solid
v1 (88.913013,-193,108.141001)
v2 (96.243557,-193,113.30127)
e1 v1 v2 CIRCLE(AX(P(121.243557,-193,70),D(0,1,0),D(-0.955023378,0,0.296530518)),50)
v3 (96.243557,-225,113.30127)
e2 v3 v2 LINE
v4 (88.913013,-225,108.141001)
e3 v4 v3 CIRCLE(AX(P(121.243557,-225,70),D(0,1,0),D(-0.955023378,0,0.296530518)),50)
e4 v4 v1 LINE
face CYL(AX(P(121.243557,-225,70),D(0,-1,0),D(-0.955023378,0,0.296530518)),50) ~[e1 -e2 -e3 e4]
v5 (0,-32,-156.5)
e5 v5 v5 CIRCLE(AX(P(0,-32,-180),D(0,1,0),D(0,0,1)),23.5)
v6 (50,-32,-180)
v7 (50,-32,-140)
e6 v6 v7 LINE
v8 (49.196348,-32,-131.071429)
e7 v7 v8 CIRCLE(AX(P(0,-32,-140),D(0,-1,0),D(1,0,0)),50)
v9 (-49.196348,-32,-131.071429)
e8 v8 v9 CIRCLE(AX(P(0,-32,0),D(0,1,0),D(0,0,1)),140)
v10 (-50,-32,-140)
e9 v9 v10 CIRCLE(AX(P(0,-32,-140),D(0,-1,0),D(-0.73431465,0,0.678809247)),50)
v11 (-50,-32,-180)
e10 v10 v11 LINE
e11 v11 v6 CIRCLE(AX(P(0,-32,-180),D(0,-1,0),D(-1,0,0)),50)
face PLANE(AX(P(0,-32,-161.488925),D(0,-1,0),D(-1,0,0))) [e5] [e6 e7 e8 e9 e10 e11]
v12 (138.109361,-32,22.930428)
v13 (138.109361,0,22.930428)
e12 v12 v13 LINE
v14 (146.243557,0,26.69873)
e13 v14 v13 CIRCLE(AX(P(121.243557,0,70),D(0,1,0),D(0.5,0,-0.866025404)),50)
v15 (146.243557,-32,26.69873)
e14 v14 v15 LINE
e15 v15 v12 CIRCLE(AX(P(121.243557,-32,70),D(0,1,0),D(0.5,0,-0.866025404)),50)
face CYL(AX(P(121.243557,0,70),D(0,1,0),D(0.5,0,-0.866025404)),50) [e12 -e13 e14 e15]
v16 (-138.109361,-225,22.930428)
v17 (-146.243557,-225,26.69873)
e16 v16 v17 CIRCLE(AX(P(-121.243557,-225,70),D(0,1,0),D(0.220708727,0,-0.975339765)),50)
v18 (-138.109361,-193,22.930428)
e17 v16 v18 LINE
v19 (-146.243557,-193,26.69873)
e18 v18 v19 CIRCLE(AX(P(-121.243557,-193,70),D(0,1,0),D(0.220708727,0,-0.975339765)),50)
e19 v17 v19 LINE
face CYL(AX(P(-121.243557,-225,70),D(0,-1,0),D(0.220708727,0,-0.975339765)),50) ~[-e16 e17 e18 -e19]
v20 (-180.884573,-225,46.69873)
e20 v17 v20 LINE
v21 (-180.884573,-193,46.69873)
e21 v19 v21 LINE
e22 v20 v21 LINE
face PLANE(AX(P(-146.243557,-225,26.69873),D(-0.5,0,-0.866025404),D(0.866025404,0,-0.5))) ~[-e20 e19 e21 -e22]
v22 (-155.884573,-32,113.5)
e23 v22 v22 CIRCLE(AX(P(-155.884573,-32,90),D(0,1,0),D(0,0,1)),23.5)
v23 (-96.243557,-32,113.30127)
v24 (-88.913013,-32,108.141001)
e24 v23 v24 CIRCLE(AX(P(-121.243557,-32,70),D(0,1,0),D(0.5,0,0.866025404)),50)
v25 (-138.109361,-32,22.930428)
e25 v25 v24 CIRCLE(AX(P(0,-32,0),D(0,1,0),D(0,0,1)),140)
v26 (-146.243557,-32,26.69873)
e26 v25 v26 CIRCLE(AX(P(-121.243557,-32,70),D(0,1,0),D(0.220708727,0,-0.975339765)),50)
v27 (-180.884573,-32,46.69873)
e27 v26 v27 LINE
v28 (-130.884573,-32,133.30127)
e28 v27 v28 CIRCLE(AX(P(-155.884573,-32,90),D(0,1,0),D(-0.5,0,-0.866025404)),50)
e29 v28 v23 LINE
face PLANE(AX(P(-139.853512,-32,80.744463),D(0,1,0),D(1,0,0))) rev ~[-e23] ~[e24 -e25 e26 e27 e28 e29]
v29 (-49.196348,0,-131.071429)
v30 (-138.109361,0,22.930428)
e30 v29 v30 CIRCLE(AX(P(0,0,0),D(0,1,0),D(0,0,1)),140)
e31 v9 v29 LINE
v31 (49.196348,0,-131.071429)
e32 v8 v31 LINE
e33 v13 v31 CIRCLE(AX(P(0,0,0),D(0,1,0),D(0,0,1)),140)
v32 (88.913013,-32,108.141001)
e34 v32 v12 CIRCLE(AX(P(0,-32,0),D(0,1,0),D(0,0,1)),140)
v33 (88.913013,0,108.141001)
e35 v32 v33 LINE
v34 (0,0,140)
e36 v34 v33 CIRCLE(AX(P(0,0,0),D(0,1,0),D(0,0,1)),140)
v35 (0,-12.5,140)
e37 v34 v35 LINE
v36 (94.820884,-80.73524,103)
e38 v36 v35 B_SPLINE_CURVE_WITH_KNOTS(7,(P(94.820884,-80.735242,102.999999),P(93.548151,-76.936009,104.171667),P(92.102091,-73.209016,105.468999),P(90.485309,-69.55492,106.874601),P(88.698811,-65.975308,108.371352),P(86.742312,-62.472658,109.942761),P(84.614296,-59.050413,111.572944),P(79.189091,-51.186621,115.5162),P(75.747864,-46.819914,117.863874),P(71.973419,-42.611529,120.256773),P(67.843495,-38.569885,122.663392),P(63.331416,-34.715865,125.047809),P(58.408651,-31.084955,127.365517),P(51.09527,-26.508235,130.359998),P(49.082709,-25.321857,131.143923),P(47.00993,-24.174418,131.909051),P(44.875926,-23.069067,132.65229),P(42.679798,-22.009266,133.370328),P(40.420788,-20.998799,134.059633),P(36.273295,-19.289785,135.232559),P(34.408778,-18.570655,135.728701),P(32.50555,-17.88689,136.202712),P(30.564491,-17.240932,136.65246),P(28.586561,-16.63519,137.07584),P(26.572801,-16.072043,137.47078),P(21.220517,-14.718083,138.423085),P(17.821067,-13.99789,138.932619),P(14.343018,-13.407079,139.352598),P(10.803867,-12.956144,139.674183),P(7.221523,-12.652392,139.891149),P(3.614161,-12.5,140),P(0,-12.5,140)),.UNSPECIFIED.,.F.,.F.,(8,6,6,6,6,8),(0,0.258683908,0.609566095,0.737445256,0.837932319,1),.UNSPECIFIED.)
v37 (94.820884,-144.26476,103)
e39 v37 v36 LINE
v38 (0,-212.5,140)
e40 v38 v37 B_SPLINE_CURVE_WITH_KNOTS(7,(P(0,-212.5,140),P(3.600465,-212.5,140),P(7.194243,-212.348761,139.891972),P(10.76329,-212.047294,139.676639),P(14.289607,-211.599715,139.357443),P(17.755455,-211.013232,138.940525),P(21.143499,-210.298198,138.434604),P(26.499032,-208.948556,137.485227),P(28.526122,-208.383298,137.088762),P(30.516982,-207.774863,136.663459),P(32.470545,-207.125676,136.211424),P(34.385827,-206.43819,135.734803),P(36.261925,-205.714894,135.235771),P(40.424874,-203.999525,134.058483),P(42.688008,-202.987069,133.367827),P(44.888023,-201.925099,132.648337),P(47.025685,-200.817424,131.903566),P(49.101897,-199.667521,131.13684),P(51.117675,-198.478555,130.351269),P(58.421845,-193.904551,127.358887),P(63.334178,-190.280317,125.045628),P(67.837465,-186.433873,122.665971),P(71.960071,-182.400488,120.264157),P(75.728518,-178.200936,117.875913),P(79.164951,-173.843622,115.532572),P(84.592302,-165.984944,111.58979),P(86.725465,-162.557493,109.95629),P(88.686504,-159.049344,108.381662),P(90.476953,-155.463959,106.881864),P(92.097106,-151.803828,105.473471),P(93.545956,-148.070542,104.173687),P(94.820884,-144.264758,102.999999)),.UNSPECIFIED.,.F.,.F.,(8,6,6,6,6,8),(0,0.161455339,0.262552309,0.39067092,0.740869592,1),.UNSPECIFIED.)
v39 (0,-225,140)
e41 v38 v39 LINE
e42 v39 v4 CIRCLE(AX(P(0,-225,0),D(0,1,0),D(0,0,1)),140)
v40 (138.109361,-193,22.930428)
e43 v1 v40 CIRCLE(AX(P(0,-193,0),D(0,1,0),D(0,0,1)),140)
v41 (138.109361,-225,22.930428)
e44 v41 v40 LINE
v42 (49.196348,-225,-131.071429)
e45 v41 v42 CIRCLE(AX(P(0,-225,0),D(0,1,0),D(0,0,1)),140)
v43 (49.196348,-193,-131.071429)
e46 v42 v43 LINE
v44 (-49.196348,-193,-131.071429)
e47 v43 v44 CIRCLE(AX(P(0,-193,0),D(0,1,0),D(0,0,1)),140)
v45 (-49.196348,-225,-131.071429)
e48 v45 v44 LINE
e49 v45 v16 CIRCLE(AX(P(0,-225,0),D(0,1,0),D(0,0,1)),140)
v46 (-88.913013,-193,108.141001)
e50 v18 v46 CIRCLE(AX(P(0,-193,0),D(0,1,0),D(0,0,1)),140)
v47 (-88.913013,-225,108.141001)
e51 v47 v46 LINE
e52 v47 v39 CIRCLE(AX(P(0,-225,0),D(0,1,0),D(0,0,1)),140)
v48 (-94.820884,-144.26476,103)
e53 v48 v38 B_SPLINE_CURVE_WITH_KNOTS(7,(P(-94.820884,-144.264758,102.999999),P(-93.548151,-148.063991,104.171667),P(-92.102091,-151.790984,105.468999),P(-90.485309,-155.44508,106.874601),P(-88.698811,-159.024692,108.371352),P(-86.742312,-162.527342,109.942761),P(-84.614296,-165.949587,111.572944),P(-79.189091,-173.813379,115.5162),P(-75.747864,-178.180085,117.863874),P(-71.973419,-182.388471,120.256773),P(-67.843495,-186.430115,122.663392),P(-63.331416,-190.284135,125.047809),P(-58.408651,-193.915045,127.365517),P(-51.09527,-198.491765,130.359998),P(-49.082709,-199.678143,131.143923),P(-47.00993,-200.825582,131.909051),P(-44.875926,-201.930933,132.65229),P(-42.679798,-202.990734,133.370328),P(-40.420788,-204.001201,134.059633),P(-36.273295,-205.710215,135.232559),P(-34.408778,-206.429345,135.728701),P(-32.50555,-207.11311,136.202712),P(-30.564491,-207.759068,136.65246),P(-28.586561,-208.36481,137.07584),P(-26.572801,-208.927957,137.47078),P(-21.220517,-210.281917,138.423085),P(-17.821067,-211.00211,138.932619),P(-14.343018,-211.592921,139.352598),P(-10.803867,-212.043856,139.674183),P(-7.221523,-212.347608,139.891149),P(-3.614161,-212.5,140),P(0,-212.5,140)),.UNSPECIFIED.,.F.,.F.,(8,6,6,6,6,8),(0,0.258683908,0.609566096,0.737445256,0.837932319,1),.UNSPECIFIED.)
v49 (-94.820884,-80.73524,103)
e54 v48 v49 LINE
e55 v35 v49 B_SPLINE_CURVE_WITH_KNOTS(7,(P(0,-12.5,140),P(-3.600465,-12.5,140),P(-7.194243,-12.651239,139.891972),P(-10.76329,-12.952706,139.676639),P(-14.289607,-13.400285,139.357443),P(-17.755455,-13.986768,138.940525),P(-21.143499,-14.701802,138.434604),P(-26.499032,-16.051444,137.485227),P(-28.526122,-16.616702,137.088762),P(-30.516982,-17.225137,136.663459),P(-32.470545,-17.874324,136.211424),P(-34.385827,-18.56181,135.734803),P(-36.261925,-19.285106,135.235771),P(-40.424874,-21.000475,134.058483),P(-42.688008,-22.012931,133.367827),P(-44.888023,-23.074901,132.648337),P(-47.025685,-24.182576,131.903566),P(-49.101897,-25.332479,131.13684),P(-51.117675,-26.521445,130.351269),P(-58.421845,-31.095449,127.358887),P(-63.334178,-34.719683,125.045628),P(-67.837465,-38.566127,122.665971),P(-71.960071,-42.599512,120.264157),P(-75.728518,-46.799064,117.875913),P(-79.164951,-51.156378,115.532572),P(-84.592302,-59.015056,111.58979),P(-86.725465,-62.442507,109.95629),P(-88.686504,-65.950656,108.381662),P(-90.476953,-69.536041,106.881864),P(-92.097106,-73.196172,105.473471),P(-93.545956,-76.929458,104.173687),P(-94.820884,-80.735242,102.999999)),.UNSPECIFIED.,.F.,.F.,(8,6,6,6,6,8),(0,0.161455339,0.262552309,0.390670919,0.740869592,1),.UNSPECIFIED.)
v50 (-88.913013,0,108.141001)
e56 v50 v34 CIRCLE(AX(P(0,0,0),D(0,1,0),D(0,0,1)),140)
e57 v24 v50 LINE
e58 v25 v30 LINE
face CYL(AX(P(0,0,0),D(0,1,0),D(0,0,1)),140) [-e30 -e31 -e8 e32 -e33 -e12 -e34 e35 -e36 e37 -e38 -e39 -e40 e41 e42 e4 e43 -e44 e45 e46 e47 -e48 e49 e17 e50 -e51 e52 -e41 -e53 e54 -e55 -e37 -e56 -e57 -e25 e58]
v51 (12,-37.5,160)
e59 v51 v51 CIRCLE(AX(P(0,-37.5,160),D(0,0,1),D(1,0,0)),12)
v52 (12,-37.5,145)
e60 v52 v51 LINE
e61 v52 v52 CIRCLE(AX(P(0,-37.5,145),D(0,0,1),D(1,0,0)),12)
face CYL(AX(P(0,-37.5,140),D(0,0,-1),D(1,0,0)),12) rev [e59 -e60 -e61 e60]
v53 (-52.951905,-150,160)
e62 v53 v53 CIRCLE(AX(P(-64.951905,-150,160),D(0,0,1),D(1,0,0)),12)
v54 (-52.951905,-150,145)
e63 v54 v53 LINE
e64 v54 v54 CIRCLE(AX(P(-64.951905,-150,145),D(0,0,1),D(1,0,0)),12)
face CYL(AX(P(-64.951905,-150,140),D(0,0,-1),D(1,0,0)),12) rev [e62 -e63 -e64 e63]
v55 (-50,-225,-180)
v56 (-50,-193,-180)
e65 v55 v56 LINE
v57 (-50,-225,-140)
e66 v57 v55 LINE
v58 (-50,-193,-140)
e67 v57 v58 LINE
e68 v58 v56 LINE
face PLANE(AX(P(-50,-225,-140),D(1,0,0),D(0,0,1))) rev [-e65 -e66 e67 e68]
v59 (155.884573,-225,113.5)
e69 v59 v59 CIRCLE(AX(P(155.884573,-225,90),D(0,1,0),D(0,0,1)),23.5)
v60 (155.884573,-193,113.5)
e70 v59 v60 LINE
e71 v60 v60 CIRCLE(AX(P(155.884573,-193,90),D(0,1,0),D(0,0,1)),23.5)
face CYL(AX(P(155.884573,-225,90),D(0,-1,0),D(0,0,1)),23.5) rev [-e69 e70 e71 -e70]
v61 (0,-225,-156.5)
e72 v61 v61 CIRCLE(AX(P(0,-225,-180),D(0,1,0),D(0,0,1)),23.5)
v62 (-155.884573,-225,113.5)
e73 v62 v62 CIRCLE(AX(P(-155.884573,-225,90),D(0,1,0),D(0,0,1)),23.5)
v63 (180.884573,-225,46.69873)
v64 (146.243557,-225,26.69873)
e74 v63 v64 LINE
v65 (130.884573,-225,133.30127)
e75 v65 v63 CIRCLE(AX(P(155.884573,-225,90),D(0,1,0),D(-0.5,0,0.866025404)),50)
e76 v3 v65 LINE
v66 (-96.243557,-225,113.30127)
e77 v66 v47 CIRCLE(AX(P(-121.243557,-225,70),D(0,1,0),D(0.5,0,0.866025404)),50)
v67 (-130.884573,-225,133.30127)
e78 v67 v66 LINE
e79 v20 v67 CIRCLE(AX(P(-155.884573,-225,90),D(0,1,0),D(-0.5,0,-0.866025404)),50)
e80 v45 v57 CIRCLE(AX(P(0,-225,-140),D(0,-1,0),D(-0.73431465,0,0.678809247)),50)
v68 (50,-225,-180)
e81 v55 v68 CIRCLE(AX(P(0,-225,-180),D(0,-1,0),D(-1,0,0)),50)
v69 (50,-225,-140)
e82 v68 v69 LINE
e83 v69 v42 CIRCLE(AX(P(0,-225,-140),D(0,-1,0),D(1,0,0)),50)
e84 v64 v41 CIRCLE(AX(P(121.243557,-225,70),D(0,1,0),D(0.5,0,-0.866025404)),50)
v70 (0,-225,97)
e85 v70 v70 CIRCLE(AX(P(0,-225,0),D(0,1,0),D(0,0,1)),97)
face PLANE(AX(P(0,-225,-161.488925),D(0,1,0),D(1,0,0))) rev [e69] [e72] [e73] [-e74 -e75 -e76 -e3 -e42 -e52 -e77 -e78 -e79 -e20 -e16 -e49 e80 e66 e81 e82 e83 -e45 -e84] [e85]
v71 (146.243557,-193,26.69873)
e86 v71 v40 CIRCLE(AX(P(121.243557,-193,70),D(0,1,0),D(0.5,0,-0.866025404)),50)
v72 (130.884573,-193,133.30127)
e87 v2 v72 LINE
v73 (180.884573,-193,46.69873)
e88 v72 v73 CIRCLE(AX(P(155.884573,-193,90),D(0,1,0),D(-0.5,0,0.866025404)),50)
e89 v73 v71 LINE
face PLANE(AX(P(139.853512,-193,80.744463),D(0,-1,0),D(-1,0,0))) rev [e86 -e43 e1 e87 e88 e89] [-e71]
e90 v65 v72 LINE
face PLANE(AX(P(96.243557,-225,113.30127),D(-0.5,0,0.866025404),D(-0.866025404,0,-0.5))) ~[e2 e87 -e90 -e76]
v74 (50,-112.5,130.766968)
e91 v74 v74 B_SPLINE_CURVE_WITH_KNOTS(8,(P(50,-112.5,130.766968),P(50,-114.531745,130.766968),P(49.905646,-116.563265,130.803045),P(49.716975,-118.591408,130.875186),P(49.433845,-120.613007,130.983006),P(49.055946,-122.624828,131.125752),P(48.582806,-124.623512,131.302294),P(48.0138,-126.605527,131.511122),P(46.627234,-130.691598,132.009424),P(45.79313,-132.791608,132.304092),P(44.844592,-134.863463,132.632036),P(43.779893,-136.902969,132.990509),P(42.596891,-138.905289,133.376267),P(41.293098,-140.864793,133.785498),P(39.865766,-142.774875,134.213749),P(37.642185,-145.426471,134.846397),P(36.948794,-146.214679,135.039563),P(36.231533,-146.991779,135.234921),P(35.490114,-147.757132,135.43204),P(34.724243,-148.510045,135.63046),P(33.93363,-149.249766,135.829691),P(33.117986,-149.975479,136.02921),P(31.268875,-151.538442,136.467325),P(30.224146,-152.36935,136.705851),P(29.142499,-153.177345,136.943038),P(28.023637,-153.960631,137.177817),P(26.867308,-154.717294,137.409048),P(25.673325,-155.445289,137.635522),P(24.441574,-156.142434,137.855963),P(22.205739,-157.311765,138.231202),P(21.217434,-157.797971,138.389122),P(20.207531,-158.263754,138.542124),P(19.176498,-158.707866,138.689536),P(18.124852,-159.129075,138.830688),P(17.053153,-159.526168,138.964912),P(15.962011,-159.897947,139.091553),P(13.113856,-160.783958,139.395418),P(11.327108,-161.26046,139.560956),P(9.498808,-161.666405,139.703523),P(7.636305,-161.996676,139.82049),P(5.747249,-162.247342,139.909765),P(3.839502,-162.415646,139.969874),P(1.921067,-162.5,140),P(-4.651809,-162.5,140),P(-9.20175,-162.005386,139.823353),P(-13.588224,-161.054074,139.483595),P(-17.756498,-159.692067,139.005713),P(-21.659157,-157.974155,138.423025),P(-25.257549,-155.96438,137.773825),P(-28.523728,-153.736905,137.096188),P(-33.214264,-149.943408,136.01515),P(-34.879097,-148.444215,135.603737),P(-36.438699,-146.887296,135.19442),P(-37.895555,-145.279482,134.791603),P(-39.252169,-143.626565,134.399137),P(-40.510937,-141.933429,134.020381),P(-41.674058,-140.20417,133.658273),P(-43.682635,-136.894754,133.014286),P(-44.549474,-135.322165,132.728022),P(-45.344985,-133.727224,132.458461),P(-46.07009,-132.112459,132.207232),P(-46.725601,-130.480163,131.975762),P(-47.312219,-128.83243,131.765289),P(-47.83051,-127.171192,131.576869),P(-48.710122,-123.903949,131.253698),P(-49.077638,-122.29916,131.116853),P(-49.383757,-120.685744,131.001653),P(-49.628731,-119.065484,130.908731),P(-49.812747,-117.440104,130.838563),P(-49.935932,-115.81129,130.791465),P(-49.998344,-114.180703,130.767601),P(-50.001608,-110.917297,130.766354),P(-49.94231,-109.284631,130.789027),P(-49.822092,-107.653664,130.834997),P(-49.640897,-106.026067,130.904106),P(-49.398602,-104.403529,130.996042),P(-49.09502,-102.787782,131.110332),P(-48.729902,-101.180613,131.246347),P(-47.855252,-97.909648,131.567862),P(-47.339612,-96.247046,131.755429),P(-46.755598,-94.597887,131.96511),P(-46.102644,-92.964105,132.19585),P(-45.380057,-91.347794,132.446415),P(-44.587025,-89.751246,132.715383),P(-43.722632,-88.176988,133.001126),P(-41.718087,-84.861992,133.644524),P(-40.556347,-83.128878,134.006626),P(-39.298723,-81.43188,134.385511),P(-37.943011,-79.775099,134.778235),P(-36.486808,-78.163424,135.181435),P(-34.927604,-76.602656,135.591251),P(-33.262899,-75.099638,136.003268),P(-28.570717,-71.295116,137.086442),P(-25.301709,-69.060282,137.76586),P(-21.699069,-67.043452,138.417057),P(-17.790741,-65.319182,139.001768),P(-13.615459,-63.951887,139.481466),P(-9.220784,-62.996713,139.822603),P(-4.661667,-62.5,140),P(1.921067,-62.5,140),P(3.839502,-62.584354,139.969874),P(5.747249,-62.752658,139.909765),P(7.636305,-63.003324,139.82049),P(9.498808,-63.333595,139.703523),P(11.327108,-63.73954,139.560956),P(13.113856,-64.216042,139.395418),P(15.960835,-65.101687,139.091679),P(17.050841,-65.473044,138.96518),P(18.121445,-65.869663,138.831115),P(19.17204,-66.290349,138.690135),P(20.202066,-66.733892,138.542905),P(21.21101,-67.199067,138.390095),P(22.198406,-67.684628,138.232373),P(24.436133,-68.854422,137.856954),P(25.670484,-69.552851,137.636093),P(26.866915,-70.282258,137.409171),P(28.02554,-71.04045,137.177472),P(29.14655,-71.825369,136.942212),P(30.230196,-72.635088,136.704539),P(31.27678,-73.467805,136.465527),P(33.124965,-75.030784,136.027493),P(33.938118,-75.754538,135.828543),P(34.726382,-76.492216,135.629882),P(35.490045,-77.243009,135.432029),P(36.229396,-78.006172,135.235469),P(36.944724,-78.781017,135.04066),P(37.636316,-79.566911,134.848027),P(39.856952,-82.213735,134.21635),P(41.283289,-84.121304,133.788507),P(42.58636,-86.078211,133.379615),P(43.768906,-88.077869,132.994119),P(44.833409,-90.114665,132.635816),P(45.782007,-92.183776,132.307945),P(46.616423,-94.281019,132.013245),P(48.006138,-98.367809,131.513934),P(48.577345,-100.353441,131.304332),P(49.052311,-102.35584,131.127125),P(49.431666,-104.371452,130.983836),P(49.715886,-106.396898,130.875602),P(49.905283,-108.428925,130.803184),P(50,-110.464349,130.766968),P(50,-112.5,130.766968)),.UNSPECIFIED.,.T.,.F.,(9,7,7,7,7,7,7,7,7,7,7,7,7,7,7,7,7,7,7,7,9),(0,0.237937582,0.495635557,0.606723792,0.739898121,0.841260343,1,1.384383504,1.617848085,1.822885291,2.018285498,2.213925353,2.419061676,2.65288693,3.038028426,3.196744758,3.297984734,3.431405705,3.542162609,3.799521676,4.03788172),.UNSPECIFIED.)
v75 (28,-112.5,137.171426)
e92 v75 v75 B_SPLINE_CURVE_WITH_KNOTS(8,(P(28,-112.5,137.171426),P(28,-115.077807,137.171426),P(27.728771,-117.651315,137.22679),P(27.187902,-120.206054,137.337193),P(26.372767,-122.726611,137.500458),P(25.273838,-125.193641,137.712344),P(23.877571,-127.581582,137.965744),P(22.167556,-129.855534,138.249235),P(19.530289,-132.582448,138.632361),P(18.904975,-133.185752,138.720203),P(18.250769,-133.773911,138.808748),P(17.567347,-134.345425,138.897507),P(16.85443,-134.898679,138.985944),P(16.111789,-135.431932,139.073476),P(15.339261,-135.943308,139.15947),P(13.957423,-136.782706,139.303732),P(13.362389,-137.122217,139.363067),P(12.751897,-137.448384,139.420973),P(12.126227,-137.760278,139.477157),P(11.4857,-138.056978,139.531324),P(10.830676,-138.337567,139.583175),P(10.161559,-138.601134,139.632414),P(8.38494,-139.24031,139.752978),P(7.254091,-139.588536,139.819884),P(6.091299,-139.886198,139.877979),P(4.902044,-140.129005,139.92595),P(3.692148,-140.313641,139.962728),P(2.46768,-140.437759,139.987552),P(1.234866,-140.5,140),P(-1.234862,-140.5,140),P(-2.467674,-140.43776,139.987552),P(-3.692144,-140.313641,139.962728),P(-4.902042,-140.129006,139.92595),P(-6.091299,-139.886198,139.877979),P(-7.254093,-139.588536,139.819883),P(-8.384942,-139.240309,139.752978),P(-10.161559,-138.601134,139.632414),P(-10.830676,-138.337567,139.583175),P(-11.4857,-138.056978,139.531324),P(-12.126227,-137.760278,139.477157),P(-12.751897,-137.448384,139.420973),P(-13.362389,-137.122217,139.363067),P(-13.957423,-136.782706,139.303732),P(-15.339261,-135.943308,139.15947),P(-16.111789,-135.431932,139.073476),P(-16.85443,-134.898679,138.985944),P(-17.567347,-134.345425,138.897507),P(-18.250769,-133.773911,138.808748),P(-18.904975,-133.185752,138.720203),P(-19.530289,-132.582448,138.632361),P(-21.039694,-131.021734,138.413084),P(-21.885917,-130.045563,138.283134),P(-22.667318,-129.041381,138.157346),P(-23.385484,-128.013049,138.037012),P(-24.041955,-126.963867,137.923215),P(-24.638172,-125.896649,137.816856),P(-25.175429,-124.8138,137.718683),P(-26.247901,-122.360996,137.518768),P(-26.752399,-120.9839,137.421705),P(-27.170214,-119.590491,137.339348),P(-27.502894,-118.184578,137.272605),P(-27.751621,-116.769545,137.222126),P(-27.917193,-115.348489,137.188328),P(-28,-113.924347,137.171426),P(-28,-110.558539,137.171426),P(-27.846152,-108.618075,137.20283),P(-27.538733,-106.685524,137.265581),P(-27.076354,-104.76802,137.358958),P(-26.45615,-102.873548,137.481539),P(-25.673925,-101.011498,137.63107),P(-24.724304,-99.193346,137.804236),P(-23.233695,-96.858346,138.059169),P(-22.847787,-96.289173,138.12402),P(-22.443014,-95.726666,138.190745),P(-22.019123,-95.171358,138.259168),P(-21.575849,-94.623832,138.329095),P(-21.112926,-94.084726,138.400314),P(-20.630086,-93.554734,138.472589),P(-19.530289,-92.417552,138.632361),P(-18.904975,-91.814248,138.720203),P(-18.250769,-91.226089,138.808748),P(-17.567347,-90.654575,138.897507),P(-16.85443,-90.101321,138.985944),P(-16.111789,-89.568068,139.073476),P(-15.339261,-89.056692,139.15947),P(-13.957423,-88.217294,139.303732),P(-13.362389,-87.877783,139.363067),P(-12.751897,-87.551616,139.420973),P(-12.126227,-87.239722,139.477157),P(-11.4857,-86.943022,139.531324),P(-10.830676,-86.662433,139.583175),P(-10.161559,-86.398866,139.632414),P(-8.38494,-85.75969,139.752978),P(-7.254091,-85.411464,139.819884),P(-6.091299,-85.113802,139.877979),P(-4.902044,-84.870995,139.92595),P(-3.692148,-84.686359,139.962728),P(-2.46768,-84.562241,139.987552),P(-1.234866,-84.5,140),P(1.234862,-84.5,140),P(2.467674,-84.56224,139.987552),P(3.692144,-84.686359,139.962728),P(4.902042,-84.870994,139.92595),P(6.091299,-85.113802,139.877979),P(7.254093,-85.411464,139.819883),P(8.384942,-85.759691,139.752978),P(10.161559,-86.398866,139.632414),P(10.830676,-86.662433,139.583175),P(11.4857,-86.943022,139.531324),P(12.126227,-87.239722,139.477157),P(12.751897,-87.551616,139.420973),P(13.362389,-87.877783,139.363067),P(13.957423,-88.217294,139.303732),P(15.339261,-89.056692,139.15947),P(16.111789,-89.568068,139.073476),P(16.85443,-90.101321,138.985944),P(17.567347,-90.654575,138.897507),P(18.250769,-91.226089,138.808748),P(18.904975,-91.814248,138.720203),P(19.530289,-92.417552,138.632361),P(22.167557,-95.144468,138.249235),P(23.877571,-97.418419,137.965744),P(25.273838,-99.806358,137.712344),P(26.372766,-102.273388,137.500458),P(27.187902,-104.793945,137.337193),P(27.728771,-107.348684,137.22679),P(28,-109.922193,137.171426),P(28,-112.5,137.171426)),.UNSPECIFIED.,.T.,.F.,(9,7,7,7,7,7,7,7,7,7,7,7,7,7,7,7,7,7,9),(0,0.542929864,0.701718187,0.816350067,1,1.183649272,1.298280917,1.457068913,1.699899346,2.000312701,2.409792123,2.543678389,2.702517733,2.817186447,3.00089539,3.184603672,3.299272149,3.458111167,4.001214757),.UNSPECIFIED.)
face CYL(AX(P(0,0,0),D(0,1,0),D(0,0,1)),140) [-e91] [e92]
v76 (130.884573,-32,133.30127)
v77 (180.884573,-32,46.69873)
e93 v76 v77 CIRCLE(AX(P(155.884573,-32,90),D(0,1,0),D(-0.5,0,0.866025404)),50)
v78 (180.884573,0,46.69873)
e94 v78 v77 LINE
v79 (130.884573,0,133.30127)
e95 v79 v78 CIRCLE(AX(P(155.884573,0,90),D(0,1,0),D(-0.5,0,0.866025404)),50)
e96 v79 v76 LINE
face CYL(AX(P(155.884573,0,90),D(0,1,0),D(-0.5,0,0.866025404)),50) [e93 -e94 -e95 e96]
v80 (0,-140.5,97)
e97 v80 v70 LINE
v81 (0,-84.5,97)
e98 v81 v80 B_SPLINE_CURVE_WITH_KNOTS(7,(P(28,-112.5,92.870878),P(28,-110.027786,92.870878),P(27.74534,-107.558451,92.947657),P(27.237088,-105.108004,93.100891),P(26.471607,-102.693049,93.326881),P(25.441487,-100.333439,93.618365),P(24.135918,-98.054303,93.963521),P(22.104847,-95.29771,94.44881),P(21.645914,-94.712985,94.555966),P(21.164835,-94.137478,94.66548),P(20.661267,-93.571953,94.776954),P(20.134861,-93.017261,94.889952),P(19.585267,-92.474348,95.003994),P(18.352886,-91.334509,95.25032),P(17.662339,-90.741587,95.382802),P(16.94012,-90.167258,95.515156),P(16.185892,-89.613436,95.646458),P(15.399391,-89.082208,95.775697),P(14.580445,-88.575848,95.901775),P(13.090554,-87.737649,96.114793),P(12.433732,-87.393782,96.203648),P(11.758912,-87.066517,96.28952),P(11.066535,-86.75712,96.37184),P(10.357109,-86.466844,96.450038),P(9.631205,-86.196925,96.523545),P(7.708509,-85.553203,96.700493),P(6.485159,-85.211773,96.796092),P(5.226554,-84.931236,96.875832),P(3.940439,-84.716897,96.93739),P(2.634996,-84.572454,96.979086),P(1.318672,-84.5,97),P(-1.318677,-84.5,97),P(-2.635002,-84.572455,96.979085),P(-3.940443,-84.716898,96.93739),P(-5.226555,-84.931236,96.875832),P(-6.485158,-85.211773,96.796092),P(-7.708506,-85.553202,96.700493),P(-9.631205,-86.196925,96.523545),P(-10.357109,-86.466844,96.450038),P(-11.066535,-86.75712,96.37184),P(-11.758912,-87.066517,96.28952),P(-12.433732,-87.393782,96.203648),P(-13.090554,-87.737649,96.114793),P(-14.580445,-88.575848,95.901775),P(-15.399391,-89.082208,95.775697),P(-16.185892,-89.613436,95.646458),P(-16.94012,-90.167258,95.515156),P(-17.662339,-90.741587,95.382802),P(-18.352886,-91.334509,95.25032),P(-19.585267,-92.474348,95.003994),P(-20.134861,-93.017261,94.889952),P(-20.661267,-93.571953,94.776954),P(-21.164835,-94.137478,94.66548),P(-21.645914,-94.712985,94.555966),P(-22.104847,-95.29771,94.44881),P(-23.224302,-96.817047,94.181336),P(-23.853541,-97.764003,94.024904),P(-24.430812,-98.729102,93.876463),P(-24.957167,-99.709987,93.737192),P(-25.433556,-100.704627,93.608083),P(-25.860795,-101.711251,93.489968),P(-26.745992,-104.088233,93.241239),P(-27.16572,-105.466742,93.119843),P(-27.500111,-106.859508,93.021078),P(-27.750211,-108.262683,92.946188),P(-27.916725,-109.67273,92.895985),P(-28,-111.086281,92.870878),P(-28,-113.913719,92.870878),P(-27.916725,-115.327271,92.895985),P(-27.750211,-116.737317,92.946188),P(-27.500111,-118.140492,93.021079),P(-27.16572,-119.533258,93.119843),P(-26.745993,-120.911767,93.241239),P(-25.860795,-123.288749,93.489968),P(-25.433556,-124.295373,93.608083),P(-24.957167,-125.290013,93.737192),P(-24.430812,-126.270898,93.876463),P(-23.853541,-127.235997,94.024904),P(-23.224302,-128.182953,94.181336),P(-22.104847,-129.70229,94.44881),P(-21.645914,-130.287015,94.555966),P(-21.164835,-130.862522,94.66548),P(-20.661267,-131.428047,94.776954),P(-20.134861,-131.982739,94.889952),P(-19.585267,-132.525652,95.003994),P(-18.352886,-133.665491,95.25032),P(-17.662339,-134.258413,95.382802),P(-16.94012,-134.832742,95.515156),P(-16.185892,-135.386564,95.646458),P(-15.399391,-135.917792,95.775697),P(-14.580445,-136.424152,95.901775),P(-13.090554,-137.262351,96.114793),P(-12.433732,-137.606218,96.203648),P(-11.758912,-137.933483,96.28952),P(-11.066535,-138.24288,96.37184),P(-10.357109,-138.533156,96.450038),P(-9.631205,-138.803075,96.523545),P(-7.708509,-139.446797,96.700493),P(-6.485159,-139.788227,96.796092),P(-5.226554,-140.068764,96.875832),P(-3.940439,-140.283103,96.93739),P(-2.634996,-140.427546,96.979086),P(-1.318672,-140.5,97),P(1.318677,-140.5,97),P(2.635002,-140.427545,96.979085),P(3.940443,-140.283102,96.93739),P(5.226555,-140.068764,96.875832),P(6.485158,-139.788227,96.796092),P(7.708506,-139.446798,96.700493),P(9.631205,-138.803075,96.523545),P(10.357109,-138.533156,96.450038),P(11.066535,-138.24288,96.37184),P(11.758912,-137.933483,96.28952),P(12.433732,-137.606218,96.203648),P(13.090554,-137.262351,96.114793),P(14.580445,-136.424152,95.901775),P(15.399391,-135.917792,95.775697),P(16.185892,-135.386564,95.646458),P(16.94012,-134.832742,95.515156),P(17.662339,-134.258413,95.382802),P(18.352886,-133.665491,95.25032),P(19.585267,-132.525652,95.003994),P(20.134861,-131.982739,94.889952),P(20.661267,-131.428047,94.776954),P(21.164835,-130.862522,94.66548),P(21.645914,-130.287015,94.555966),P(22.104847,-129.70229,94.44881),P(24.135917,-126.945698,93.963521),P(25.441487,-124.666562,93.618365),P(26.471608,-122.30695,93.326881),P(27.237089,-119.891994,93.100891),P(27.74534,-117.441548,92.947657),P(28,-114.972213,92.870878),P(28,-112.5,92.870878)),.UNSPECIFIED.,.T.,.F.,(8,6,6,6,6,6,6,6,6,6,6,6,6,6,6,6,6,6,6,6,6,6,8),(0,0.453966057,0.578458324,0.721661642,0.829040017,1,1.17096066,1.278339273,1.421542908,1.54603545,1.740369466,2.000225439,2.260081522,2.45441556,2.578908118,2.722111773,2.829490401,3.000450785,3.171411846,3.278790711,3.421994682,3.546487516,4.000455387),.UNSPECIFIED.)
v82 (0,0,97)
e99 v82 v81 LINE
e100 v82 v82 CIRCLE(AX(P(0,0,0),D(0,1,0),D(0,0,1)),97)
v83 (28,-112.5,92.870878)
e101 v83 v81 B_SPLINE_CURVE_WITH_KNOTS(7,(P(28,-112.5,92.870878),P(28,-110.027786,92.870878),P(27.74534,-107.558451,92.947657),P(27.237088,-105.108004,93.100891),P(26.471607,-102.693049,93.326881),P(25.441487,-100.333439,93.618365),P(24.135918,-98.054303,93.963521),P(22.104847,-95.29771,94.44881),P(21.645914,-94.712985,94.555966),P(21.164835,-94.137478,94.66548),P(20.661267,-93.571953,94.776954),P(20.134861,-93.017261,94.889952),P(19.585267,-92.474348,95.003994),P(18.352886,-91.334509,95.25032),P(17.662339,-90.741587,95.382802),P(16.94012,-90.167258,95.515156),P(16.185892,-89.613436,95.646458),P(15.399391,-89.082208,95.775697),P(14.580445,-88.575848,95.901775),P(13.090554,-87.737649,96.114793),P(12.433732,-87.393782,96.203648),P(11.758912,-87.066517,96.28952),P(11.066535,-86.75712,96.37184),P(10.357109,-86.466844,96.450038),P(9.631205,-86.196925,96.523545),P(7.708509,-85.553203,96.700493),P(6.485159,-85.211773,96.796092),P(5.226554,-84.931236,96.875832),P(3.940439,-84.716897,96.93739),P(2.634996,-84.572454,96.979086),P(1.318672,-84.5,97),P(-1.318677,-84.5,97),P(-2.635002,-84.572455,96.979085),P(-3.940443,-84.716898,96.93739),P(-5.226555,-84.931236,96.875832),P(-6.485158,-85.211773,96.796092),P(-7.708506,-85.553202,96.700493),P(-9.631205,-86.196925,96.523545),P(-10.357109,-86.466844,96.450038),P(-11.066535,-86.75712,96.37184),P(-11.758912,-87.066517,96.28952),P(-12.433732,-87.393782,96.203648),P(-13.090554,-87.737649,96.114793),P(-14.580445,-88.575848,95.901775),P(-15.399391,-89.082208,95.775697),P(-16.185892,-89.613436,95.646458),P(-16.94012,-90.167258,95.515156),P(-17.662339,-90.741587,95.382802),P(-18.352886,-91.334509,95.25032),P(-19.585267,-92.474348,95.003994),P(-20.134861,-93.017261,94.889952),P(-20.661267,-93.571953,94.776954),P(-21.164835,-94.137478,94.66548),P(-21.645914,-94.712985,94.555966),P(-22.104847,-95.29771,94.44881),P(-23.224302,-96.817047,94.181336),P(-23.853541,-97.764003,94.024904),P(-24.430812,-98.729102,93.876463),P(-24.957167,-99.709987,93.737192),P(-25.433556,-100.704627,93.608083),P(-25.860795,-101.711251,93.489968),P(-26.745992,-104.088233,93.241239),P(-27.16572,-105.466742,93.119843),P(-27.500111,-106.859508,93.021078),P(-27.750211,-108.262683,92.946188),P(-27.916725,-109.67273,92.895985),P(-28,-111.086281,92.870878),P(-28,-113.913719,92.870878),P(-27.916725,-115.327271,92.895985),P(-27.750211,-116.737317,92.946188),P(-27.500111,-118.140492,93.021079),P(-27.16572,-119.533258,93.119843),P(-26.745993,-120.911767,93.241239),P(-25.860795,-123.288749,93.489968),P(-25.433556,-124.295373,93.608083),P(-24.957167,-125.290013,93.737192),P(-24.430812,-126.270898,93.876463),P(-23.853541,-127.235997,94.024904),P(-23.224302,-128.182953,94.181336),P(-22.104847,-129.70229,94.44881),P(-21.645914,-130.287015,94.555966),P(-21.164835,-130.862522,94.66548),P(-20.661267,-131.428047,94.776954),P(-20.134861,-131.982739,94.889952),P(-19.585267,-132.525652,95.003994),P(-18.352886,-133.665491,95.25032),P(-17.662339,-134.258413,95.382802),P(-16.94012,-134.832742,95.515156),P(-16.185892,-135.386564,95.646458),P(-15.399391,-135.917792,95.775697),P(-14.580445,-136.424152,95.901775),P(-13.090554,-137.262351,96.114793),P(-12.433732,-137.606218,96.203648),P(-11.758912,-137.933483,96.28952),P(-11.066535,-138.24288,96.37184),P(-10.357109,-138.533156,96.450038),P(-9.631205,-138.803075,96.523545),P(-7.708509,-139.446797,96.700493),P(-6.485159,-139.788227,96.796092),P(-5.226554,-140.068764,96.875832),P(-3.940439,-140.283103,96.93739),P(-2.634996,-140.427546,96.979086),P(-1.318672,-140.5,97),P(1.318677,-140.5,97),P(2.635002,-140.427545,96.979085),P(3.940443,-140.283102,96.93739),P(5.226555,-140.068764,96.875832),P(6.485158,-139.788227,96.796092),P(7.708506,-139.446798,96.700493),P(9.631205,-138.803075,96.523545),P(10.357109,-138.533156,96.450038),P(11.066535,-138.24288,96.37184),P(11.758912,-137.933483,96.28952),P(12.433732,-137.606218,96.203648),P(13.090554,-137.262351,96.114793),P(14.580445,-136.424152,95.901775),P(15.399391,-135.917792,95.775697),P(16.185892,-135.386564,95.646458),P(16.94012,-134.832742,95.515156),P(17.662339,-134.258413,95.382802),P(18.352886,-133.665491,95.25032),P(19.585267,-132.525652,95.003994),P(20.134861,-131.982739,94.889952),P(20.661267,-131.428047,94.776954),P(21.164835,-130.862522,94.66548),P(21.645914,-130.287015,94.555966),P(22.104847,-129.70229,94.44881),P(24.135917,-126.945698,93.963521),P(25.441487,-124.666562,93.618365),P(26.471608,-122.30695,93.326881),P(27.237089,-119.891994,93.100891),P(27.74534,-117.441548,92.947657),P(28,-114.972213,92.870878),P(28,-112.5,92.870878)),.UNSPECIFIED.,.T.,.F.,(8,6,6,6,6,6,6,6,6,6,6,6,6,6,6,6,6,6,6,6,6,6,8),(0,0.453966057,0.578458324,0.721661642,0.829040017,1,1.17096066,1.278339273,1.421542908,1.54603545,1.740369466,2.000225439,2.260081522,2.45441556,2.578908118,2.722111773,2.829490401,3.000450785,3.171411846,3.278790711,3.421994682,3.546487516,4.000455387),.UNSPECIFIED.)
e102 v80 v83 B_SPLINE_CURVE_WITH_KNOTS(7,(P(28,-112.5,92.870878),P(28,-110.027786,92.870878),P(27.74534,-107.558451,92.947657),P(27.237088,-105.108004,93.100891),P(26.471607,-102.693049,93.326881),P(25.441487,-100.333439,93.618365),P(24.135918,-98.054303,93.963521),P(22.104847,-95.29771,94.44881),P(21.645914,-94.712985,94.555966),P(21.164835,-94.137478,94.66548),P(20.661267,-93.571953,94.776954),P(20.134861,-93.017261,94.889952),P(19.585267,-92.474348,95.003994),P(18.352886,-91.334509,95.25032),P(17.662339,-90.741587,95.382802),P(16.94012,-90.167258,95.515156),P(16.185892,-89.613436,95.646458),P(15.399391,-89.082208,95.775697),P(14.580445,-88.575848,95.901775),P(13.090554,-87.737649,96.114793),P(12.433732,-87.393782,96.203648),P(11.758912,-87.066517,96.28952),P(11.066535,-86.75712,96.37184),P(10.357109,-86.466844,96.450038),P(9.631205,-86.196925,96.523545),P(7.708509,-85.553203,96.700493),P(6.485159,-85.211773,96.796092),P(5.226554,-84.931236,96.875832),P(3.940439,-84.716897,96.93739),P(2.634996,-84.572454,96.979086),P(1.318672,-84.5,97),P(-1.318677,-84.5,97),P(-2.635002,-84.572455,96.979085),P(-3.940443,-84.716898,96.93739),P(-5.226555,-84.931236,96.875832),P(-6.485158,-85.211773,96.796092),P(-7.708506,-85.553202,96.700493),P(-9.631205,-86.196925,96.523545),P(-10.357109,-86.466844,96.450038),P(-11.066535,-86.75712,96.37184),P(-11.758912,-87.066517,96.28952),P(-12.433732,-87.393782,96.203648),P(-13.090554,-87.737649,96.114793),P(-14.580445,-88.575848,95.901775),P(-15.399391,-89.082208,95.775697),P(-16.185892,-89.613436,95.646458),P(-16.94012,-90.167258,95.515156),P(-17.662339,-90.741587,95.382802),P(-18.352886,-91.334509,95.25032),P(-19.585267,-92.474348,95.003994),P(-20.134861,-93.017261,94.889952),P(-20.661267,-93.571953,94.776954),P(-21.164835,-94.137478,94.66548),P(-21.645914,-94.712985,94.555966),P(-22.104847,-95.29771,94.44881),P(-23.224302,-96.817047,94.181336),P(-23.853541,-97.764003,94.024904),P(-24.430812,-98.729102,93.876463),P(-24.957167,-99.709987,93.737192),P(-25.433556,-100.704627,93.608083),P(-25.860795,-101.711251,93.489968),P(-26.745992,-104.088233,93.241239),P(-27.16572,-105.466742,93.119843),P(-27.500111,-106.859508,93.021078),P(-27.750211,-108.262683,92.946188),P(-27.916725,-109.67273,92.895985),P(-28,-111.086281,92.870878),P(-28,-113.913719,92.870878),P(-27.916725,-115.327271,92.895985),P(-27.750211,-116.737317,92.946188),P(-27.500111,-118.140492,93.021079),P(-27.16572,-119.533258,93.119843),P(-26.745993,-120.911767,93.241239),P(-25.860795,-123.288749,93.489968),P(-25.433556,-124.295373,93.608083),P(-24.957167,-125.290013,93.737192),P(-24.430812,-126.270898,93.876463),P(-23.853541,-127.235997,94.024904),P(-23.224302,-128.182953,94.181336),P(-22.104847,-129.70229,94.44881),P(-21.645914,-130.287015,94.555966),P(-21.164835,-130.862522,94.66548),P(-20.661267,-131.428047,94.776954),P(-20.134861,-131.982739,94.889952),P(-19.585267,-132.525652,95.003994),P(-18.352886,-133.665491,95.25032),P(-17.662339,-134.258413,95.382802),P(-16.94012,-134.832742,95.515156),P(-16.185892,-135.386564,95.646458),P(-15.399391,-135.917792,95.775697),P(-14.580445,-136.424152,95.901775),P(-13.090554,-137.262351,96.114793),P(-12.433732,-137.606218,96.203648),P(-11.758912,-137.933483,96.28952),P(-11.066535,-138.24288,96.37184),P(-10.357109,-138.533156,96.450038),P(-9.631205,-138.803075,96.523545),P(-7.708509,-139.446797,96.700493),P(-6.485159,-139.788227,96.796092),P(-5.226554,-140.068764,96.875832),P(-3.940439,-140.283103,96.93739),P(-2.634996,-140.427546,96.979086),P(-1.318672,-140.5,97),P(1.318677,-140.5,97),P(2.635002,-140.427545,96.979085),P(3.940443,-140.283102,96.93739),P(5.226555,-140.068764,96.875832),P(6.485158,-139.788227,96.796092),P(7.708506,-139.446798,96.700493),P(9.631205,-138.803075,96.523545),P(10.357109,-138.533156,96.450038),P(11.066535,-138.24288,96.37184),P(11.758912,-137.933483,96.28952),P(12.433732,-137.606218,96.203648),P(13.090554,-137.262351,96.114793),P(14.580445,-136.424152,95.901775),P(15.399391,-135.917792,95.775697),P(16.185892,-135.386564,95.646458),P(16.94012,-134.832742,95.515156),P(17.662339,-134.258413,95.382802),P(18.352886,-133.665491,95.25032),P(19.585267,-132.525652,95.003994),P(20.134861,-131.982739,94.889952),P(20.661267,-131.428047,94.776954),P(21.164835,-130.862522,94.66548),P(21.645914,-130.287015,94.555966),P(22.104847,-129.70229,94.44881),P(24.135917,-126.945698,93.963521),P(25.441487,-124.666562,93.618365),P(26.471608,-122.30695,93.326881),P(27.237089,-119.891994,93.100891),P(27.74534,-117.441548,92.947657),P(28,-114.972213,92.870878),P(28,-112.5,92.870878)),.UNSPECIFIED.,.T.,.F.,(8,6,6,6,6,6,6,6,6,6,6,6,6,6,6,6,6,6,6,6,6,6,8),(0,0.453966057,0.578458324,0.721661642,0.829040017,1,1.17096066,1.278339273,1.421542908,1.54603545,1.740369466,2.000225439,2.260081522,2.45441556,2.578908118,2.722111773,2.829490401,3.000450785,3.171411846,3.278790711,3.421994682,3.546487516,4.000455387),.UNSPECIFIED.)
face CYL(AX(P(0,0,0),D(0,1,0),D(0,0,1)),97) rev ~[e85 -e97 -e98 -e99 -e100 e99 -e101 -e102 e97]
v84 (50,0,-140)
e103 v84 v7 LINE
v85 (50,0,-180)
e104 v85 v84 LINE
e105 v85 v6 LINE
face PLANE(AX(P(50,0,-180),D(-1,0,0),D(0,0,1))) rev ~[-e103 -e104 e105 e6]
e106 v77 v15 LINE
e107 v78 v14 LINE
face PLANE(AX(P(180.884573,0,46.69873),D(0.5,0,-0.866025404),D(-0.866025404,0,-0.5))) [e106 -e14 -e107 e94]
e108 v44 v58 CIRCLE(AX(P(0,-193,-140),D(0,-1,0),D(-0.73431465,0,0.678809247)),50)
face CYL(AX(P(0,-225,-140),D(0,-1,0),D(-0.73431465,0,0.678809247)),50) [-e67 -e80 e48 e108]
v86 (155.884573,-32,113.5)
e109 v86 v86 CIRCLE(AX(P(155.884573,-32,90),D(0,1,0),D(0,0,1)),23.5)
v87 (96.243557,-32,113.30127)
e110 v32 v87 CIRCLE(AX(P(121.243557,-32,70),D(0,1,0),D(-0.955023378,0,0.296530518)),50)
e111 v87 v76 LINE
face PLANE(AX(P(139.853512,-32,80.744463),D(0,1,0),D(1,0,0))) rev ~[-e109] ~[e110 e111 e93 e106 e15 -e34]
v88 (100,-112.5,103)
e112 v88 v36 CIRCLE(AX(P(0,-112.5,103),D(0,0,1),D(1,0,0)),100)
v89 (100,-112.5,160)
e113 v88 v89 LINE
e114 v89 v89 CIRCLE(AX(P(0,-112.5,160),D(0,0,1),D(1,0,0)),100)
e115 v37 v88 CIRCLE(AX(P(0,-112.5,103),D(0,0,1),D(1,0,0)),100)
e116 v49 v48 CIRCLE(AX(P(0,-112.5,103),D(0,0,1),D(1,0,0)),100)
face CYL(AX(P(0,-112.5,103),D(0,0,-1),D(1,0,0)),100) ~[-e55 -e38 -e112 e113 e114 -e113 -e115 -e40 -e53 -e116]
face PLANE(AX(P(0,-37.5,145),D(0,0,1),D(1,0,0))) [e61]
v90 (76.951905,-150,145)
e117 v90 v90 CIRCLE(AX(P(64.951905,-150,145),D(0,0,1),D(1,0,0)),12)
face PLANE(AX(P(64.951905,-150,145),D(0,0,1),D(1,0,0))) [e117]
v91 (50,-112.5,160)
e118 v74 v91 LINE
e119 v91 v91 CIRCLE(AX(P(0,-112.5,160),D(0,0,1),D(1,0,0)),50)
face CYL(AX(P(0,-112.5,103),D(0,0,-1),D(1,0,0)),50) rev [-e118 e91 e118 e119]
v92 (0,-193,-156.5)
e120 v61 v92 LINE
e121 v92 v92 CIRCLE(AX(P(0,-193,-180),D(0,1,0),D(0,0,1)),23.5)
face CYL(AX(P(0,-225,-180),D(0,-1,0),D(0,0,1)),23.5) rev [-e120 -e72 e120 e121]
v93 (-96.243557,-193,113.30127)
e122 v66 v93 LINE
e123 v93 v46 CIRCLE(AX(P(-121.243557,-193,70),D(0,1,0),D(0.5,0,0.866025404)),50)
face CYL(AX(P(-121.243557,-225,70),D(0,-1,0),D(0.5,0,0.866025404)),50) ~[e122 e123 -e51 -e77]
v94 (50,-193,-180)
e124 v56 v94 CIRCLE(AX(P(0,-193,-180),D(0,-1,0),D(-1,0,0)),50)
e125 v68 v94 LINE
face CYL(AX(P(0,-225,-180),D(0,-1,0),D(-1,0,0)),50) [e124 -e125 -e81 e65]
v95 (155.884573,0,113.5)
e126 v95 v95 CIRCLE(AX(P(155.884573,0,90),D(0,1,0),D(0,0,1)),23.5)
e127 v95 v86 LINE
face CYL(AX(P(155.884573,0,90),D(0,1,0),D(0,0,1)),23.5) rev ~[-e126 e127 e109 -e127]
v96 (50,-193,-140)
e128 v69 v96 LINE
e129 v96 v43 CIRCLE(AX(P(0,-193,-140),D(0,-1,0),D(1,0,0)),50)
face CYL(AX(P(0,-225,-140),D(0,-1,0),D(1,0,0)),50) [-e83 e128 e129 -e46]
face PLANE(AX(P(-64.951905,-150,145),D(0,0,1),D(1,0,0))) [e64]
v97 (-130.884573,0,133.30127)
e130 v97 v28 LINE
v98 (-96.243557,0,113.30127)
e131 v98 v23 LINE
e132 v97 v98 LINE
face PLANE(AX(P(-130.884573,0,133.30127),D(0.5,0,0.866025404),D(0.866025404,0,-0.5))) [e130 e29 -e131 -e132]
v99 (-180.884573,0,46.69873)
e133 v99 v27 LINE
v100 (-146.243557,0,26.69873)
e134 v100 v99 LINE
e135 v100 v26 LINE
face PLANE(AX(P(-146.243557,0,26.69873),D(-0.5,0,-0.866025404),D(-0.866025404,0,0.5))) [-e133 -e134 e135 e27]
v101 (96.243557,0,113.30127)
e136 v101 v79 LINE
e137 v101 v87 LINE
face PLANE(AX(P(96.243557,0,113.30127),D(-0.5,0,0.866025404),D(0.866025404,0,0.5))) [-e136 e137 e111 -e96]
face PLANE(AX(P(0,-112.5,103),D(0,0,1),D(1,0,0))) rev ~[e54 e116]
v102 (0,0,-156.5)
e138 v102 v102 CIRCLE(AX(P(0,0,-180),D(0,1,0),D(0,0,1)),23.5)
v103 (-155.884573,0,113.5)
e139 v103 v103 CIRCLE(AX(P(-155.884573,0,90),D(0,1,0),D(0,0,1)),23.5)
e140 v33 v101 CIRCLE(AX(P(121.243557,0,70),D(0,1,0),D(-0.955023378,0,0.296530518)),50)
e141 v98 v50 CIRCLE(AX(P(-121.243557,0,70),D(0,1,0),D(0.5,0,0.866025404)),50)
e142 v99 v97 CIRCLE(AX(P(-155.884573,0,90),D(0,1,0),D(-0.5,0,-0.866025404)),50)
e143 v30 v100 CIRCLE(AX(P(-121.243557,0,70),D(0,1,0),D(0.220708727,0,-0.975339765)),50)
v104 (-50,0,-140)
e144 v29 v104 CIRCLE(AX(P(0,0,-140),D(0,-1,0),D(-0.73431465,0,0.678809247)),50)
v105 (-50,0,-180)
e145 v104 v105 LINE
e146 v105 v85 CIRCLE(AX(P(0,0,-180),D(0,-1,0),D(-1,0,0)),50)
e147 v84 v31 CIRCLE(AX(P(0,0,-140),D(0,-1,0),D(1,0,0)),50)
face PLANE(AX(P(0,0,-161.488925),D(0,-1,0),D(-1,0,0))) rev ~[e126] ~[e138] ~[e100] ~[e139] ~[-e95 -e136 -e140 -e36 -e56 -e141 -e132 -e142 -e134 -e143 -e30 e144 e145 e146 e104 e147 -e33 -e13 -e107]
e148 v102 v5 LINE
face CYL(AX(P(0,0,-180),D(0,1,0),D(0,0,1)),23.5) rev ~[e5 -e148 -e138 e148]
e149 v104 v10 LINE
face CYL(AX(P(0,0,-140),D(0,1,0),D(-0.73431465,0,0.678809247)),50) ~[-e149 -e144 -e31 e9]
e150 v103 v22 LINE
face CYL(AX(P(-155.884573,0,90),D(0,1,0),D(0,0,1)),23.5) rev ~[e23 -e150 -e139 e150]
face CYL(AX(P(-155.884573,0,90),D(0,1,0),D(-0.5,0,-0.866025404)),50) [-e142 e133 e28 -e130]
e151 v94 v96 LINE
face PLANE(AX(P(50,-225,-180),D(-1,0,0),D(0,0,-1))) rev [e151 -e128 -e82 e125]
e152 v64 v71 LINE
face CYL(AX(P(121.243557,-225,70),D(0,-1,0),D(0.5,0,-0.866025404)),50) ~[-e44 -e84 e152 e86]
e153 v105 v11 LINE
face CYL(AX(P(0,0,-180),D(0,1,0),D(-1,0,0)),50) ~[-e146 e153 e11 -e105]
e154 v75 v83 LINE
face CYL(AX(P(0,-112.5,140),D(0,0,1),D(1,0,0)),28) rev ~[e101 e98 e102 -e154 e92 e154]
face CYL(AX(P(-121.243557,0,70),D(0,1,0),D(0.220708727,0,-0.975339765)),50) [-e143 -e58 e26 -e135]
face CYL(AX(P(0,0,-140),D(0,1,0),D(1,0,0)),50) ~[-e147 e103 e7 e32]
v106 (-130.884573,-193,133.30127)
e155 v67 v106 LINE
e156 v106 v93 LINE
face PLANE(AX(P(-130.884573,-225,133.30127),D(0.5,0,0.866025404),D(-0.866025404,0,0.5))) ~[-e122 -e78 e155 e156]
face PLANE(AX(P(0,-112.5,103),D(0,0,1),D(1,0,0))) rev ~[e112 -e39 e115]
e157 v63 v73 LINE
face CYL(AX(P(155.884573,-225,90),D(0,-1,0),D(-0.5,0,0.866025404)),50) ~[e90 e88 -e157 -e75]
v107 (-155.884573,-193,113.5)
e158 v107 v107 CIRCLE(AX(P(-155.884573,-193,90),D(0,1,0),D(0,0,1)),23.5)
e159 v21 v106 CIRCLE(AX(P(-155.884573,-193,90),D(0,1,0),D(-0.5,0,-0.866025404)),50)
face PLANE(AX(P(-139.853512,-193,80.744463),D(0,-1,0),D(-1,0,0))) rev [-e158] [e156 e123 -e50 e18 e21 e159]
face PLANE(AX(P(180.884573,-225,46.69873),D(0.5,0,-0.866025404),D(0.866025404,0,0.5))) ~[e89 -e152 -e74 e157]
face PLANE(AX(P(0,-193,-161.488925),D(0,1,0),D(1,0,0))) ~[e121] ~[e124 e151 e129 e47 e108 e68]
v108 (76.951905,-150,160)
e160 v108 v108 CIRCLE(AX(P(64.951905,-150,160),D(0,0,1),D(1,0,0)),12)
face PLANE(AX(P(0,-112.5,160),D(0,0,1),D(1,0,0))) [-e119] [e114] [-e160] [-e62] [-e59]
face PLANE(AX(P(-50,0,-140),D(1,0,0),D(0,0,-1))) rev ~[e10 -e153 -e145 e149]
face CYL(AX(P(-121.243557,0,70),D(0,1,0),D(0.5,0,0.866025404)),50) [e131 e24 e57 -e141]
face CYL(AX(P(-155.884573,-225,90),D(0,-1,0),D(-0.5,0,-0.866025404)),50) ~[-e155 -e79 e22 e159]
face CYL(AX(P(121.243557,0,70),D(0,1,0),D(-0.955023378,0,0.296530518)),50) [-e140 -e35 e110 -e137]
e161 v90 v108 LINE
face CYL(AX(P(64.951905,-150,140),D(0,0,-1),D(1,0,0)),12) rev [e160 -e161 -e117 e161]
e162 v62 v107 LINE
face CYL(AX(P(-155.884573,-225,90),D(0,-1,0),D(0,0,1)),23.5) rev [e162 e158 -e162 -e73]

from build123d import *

# Parameters (mm, degrees)
SKETCH1_R                = 140
SKETCH1_R_2              = 97
BOSS_EXTRUDE1_DEPTH      = 225
SKETCH2_R                = 23.5
BOSS_EXTRUDE2_DEPTH      = 32
CUT_EXTRUDE3_REACH       = 481.493
CUT_EXTRUDE3_END_RADIUS  = 97
SKETCH8_R                = 28
BOSS_EXTRUDE4_DEPTH      = 20
BOSS_EXTRUDE4_DEPTH_BACK = 37
SKETCH9_R                = 100
SKETCH9_R_2              = 50
SKETCH10_R               = 12
CUT_EXTRUDE4_DEPTH       = 20
SKETCH10_2_R             = 12
BOSS_EXTRUDE5_DEPTH      = 5


with BuildPart() as part:
    # Sketch1 → Boss-Extrude1 (new body)
    with BuildSketch(Plane(origin=(0, 0, 0), x_dir=(1, 0, 0), z_dir=(0, 1, 0))):
        with Locations(Location((0, 0, 0), (0, 0, 270))):
            Circle(SKETCH1_R)
        with Locations(Location((0, 0, 0), (0, 0, 270))):
            Circle(SKETCH1_R_2, mode=Mode.SUBTRACT)
    extrude(amount=-BOSS_EXTRUDE1_DEPTH)

    # Sketch2 → Boss-Extrude2 (add)
    # profile 1 of 3: a face of its own
    with BuildSketch(Plane(origin=(0, 0, 0), x_dir=(1, 0, 0), z_dir=(0, 1, 0))):
        with BuildLine():
            Line((50, 180), (50, 140))
            ThreePointArc((50, 140), (46.560641243, 121.776205471), (36.715732519, 106.059537635))
            Line((36.715732519, 106.059537635), (-36.715732519, 106.059537635))
            ThreePointArc((-36.715732519, 106.059537635), (-46.560641243, 121.776205471), (-50, 140))
            Line((-50, 140), (-50, 180))
            ThreePointArc((-50, 180), (0, 230), (50, 180))
        make_face()
        with Locations(Location((0, 180, 0), (0, 0, 270))):
            Circle(SKETCH2_R, mode=Mode.SUBTRACT)
    # profile 2 of 3: a face of its own
    with BuildSketch(Plane(origin=(0, 0, 0), x_dir=(1, 0, 0), z_dir=(0, 1, 0))):
        with BuildLine():
            Line((110.208120165, -21.233011737), (73.492387646, -84.826525898))
            ThreePointArc((73.492387646, -84.826525898), (82.180966893, -101.210800869), (96.24355653, -113.301270189))
            Line((96.24355653, -113.301270189), (130.884572681, -133.301270189))
            ThreePointArc((130.884572681, -133.301270189), (199.18584287, -115), (180.884572681, -46.698729811))
            Line((180.884572681, -46.698729811), (146.24355653, -26.698729811))
            ThreePointArc((146.24355653, -26.698729811), (128.741608136, -20.565404603), (110.208120165, -21.233011737))
        make_face()
        with Locations(Location((155.884572681, -90, 0), (0, 0, 270))):
            Circle(SKETCH2_R, mode=Mode.SUBTRACT)
    # profile 3 of 3: a face of its own
    with BuildSketch(Plane(origin=(0, 0, 0), x_dir=(1, 0, 0), z_dir=(0, 1, 0))):
        with BuildLine():
            Line((-73.492387646, -84.826525898), (-110.208120165, -21.233011737))
            ThreePointArc((-110.208120165, -21.233011737), (-128.741608136, -20.565404603), (-146.24355653, -26.698729811))
            Line((-146.24355653, -26.698729811), (-180.884572681, -46.698729811))
            ThreePointArc((-180.884572681, -46.698729811), (-199.18584287, -115), (-130.884572681, -133.301270189))
            Line((-130.884572681, -133.301270189), (-96.24355653, -113.301270189))
            ThreePointArc((-96.24355653, -113.301270189), (-82.180966893, -101.210800869), (-73.492387646, -84.826525898))
        make_face()
        with Locations(Location((-155.884572681, -90, 0), (0, 0, 270))):
            Circle(SKETCH2_R, mode=Mode.SUBTRACT)
    boss_extrude2 = extrude(amount=-BOSS_EXTRUDE2_DEPTH)

    # Mirror1: Boss-Extrude2 across plane
    add(boss_extrude2.mirror(Plane(origin=(0, -112.5, 0), x_dir=(0, 0, 1), z_dir=(0, -1, 0))))

    # Cut-Extrude3: up to this cylinder (the profile starts outside it)
    cut_extrude3_end = Plane(origin=(0, -112.5, 0), z_dir=(0, 1, 0)) * Cylinder(CUT_EXTRUDE3_END_RADIUS, 1157.986, mode=Mode.PRIVATE)
    # Sketch8 → Cut-Extrude3 (cut, up to the surface)
    with BuildSketch(Plane.XY.offset(140), mode=Mode.PRIVATE) as cut_extrude3_sk1:
        with Locations((0, -112.5)):
            Circle(SKETCH8_R)
    cut_extrude3_tool1 = extrude(cut_extrude3_sk1.sketch, amount=-CUT_EXTRUDE3_REACH, mode=Mode.PRIVATE) - cut_extrude3_end
    add(cut_extrude3_tool1.solids().sort_by_distance((0, -112.5, 140))[0], mode=Mode.SUBTRACT)

    # Sketch9 → Boss-Extrude4 (add, two sides: drawn at the far end of the back side and taken through both)
    with BuildSketch(Plane.XY.offset(140).offset(-BOSS_EXTRUDE4_DEPTH_BACK)):
        with Locations((0, -112.5)):
            Circle(SKETCH9_R)
        with Locations((0, -112.5)):
            Circle(SKETCH9_R_2, mode=Mode.SUBTRACT)
    extrude(amount=BOSS_EXTRUDE4_DEPTH + BOSS_EXTRUDE4_DEPTH_BACK)

    # Sketch10 → Cut-Extrude4 (cut)
    with BuildSketch(Plane.XY.offset(140)):
        with Locations((0, -37.5)):
            Circle(SKETCH10_R)
        with Locations((64.951905284, -150)):
            Circle(SKETCH10_R)
        with Locations((-64.951905284, -150)):
            Circle(SKETCH10_R)
    extrude(amount=CUT_EXTRUDE4_DEPTH, mode=Mode.SUBTRACT)

    # Sketch10<2> → Boss-Extrude5 (add)
    with BuildSketch(Plane.XY.offset(140)):
        with Locations((0, -37.5)):
            Circle(SKETCH10_2_R)
        with Locations((64.951905284, -150)):
            Circle(SKETCH10_2_R)
        with Locations((-64.951905284, -150)):
            Circle(SKETCH10_2_R)
    extrude(amount=BOSS_EXTRUDE5_DEPTH)


solid = part.part
